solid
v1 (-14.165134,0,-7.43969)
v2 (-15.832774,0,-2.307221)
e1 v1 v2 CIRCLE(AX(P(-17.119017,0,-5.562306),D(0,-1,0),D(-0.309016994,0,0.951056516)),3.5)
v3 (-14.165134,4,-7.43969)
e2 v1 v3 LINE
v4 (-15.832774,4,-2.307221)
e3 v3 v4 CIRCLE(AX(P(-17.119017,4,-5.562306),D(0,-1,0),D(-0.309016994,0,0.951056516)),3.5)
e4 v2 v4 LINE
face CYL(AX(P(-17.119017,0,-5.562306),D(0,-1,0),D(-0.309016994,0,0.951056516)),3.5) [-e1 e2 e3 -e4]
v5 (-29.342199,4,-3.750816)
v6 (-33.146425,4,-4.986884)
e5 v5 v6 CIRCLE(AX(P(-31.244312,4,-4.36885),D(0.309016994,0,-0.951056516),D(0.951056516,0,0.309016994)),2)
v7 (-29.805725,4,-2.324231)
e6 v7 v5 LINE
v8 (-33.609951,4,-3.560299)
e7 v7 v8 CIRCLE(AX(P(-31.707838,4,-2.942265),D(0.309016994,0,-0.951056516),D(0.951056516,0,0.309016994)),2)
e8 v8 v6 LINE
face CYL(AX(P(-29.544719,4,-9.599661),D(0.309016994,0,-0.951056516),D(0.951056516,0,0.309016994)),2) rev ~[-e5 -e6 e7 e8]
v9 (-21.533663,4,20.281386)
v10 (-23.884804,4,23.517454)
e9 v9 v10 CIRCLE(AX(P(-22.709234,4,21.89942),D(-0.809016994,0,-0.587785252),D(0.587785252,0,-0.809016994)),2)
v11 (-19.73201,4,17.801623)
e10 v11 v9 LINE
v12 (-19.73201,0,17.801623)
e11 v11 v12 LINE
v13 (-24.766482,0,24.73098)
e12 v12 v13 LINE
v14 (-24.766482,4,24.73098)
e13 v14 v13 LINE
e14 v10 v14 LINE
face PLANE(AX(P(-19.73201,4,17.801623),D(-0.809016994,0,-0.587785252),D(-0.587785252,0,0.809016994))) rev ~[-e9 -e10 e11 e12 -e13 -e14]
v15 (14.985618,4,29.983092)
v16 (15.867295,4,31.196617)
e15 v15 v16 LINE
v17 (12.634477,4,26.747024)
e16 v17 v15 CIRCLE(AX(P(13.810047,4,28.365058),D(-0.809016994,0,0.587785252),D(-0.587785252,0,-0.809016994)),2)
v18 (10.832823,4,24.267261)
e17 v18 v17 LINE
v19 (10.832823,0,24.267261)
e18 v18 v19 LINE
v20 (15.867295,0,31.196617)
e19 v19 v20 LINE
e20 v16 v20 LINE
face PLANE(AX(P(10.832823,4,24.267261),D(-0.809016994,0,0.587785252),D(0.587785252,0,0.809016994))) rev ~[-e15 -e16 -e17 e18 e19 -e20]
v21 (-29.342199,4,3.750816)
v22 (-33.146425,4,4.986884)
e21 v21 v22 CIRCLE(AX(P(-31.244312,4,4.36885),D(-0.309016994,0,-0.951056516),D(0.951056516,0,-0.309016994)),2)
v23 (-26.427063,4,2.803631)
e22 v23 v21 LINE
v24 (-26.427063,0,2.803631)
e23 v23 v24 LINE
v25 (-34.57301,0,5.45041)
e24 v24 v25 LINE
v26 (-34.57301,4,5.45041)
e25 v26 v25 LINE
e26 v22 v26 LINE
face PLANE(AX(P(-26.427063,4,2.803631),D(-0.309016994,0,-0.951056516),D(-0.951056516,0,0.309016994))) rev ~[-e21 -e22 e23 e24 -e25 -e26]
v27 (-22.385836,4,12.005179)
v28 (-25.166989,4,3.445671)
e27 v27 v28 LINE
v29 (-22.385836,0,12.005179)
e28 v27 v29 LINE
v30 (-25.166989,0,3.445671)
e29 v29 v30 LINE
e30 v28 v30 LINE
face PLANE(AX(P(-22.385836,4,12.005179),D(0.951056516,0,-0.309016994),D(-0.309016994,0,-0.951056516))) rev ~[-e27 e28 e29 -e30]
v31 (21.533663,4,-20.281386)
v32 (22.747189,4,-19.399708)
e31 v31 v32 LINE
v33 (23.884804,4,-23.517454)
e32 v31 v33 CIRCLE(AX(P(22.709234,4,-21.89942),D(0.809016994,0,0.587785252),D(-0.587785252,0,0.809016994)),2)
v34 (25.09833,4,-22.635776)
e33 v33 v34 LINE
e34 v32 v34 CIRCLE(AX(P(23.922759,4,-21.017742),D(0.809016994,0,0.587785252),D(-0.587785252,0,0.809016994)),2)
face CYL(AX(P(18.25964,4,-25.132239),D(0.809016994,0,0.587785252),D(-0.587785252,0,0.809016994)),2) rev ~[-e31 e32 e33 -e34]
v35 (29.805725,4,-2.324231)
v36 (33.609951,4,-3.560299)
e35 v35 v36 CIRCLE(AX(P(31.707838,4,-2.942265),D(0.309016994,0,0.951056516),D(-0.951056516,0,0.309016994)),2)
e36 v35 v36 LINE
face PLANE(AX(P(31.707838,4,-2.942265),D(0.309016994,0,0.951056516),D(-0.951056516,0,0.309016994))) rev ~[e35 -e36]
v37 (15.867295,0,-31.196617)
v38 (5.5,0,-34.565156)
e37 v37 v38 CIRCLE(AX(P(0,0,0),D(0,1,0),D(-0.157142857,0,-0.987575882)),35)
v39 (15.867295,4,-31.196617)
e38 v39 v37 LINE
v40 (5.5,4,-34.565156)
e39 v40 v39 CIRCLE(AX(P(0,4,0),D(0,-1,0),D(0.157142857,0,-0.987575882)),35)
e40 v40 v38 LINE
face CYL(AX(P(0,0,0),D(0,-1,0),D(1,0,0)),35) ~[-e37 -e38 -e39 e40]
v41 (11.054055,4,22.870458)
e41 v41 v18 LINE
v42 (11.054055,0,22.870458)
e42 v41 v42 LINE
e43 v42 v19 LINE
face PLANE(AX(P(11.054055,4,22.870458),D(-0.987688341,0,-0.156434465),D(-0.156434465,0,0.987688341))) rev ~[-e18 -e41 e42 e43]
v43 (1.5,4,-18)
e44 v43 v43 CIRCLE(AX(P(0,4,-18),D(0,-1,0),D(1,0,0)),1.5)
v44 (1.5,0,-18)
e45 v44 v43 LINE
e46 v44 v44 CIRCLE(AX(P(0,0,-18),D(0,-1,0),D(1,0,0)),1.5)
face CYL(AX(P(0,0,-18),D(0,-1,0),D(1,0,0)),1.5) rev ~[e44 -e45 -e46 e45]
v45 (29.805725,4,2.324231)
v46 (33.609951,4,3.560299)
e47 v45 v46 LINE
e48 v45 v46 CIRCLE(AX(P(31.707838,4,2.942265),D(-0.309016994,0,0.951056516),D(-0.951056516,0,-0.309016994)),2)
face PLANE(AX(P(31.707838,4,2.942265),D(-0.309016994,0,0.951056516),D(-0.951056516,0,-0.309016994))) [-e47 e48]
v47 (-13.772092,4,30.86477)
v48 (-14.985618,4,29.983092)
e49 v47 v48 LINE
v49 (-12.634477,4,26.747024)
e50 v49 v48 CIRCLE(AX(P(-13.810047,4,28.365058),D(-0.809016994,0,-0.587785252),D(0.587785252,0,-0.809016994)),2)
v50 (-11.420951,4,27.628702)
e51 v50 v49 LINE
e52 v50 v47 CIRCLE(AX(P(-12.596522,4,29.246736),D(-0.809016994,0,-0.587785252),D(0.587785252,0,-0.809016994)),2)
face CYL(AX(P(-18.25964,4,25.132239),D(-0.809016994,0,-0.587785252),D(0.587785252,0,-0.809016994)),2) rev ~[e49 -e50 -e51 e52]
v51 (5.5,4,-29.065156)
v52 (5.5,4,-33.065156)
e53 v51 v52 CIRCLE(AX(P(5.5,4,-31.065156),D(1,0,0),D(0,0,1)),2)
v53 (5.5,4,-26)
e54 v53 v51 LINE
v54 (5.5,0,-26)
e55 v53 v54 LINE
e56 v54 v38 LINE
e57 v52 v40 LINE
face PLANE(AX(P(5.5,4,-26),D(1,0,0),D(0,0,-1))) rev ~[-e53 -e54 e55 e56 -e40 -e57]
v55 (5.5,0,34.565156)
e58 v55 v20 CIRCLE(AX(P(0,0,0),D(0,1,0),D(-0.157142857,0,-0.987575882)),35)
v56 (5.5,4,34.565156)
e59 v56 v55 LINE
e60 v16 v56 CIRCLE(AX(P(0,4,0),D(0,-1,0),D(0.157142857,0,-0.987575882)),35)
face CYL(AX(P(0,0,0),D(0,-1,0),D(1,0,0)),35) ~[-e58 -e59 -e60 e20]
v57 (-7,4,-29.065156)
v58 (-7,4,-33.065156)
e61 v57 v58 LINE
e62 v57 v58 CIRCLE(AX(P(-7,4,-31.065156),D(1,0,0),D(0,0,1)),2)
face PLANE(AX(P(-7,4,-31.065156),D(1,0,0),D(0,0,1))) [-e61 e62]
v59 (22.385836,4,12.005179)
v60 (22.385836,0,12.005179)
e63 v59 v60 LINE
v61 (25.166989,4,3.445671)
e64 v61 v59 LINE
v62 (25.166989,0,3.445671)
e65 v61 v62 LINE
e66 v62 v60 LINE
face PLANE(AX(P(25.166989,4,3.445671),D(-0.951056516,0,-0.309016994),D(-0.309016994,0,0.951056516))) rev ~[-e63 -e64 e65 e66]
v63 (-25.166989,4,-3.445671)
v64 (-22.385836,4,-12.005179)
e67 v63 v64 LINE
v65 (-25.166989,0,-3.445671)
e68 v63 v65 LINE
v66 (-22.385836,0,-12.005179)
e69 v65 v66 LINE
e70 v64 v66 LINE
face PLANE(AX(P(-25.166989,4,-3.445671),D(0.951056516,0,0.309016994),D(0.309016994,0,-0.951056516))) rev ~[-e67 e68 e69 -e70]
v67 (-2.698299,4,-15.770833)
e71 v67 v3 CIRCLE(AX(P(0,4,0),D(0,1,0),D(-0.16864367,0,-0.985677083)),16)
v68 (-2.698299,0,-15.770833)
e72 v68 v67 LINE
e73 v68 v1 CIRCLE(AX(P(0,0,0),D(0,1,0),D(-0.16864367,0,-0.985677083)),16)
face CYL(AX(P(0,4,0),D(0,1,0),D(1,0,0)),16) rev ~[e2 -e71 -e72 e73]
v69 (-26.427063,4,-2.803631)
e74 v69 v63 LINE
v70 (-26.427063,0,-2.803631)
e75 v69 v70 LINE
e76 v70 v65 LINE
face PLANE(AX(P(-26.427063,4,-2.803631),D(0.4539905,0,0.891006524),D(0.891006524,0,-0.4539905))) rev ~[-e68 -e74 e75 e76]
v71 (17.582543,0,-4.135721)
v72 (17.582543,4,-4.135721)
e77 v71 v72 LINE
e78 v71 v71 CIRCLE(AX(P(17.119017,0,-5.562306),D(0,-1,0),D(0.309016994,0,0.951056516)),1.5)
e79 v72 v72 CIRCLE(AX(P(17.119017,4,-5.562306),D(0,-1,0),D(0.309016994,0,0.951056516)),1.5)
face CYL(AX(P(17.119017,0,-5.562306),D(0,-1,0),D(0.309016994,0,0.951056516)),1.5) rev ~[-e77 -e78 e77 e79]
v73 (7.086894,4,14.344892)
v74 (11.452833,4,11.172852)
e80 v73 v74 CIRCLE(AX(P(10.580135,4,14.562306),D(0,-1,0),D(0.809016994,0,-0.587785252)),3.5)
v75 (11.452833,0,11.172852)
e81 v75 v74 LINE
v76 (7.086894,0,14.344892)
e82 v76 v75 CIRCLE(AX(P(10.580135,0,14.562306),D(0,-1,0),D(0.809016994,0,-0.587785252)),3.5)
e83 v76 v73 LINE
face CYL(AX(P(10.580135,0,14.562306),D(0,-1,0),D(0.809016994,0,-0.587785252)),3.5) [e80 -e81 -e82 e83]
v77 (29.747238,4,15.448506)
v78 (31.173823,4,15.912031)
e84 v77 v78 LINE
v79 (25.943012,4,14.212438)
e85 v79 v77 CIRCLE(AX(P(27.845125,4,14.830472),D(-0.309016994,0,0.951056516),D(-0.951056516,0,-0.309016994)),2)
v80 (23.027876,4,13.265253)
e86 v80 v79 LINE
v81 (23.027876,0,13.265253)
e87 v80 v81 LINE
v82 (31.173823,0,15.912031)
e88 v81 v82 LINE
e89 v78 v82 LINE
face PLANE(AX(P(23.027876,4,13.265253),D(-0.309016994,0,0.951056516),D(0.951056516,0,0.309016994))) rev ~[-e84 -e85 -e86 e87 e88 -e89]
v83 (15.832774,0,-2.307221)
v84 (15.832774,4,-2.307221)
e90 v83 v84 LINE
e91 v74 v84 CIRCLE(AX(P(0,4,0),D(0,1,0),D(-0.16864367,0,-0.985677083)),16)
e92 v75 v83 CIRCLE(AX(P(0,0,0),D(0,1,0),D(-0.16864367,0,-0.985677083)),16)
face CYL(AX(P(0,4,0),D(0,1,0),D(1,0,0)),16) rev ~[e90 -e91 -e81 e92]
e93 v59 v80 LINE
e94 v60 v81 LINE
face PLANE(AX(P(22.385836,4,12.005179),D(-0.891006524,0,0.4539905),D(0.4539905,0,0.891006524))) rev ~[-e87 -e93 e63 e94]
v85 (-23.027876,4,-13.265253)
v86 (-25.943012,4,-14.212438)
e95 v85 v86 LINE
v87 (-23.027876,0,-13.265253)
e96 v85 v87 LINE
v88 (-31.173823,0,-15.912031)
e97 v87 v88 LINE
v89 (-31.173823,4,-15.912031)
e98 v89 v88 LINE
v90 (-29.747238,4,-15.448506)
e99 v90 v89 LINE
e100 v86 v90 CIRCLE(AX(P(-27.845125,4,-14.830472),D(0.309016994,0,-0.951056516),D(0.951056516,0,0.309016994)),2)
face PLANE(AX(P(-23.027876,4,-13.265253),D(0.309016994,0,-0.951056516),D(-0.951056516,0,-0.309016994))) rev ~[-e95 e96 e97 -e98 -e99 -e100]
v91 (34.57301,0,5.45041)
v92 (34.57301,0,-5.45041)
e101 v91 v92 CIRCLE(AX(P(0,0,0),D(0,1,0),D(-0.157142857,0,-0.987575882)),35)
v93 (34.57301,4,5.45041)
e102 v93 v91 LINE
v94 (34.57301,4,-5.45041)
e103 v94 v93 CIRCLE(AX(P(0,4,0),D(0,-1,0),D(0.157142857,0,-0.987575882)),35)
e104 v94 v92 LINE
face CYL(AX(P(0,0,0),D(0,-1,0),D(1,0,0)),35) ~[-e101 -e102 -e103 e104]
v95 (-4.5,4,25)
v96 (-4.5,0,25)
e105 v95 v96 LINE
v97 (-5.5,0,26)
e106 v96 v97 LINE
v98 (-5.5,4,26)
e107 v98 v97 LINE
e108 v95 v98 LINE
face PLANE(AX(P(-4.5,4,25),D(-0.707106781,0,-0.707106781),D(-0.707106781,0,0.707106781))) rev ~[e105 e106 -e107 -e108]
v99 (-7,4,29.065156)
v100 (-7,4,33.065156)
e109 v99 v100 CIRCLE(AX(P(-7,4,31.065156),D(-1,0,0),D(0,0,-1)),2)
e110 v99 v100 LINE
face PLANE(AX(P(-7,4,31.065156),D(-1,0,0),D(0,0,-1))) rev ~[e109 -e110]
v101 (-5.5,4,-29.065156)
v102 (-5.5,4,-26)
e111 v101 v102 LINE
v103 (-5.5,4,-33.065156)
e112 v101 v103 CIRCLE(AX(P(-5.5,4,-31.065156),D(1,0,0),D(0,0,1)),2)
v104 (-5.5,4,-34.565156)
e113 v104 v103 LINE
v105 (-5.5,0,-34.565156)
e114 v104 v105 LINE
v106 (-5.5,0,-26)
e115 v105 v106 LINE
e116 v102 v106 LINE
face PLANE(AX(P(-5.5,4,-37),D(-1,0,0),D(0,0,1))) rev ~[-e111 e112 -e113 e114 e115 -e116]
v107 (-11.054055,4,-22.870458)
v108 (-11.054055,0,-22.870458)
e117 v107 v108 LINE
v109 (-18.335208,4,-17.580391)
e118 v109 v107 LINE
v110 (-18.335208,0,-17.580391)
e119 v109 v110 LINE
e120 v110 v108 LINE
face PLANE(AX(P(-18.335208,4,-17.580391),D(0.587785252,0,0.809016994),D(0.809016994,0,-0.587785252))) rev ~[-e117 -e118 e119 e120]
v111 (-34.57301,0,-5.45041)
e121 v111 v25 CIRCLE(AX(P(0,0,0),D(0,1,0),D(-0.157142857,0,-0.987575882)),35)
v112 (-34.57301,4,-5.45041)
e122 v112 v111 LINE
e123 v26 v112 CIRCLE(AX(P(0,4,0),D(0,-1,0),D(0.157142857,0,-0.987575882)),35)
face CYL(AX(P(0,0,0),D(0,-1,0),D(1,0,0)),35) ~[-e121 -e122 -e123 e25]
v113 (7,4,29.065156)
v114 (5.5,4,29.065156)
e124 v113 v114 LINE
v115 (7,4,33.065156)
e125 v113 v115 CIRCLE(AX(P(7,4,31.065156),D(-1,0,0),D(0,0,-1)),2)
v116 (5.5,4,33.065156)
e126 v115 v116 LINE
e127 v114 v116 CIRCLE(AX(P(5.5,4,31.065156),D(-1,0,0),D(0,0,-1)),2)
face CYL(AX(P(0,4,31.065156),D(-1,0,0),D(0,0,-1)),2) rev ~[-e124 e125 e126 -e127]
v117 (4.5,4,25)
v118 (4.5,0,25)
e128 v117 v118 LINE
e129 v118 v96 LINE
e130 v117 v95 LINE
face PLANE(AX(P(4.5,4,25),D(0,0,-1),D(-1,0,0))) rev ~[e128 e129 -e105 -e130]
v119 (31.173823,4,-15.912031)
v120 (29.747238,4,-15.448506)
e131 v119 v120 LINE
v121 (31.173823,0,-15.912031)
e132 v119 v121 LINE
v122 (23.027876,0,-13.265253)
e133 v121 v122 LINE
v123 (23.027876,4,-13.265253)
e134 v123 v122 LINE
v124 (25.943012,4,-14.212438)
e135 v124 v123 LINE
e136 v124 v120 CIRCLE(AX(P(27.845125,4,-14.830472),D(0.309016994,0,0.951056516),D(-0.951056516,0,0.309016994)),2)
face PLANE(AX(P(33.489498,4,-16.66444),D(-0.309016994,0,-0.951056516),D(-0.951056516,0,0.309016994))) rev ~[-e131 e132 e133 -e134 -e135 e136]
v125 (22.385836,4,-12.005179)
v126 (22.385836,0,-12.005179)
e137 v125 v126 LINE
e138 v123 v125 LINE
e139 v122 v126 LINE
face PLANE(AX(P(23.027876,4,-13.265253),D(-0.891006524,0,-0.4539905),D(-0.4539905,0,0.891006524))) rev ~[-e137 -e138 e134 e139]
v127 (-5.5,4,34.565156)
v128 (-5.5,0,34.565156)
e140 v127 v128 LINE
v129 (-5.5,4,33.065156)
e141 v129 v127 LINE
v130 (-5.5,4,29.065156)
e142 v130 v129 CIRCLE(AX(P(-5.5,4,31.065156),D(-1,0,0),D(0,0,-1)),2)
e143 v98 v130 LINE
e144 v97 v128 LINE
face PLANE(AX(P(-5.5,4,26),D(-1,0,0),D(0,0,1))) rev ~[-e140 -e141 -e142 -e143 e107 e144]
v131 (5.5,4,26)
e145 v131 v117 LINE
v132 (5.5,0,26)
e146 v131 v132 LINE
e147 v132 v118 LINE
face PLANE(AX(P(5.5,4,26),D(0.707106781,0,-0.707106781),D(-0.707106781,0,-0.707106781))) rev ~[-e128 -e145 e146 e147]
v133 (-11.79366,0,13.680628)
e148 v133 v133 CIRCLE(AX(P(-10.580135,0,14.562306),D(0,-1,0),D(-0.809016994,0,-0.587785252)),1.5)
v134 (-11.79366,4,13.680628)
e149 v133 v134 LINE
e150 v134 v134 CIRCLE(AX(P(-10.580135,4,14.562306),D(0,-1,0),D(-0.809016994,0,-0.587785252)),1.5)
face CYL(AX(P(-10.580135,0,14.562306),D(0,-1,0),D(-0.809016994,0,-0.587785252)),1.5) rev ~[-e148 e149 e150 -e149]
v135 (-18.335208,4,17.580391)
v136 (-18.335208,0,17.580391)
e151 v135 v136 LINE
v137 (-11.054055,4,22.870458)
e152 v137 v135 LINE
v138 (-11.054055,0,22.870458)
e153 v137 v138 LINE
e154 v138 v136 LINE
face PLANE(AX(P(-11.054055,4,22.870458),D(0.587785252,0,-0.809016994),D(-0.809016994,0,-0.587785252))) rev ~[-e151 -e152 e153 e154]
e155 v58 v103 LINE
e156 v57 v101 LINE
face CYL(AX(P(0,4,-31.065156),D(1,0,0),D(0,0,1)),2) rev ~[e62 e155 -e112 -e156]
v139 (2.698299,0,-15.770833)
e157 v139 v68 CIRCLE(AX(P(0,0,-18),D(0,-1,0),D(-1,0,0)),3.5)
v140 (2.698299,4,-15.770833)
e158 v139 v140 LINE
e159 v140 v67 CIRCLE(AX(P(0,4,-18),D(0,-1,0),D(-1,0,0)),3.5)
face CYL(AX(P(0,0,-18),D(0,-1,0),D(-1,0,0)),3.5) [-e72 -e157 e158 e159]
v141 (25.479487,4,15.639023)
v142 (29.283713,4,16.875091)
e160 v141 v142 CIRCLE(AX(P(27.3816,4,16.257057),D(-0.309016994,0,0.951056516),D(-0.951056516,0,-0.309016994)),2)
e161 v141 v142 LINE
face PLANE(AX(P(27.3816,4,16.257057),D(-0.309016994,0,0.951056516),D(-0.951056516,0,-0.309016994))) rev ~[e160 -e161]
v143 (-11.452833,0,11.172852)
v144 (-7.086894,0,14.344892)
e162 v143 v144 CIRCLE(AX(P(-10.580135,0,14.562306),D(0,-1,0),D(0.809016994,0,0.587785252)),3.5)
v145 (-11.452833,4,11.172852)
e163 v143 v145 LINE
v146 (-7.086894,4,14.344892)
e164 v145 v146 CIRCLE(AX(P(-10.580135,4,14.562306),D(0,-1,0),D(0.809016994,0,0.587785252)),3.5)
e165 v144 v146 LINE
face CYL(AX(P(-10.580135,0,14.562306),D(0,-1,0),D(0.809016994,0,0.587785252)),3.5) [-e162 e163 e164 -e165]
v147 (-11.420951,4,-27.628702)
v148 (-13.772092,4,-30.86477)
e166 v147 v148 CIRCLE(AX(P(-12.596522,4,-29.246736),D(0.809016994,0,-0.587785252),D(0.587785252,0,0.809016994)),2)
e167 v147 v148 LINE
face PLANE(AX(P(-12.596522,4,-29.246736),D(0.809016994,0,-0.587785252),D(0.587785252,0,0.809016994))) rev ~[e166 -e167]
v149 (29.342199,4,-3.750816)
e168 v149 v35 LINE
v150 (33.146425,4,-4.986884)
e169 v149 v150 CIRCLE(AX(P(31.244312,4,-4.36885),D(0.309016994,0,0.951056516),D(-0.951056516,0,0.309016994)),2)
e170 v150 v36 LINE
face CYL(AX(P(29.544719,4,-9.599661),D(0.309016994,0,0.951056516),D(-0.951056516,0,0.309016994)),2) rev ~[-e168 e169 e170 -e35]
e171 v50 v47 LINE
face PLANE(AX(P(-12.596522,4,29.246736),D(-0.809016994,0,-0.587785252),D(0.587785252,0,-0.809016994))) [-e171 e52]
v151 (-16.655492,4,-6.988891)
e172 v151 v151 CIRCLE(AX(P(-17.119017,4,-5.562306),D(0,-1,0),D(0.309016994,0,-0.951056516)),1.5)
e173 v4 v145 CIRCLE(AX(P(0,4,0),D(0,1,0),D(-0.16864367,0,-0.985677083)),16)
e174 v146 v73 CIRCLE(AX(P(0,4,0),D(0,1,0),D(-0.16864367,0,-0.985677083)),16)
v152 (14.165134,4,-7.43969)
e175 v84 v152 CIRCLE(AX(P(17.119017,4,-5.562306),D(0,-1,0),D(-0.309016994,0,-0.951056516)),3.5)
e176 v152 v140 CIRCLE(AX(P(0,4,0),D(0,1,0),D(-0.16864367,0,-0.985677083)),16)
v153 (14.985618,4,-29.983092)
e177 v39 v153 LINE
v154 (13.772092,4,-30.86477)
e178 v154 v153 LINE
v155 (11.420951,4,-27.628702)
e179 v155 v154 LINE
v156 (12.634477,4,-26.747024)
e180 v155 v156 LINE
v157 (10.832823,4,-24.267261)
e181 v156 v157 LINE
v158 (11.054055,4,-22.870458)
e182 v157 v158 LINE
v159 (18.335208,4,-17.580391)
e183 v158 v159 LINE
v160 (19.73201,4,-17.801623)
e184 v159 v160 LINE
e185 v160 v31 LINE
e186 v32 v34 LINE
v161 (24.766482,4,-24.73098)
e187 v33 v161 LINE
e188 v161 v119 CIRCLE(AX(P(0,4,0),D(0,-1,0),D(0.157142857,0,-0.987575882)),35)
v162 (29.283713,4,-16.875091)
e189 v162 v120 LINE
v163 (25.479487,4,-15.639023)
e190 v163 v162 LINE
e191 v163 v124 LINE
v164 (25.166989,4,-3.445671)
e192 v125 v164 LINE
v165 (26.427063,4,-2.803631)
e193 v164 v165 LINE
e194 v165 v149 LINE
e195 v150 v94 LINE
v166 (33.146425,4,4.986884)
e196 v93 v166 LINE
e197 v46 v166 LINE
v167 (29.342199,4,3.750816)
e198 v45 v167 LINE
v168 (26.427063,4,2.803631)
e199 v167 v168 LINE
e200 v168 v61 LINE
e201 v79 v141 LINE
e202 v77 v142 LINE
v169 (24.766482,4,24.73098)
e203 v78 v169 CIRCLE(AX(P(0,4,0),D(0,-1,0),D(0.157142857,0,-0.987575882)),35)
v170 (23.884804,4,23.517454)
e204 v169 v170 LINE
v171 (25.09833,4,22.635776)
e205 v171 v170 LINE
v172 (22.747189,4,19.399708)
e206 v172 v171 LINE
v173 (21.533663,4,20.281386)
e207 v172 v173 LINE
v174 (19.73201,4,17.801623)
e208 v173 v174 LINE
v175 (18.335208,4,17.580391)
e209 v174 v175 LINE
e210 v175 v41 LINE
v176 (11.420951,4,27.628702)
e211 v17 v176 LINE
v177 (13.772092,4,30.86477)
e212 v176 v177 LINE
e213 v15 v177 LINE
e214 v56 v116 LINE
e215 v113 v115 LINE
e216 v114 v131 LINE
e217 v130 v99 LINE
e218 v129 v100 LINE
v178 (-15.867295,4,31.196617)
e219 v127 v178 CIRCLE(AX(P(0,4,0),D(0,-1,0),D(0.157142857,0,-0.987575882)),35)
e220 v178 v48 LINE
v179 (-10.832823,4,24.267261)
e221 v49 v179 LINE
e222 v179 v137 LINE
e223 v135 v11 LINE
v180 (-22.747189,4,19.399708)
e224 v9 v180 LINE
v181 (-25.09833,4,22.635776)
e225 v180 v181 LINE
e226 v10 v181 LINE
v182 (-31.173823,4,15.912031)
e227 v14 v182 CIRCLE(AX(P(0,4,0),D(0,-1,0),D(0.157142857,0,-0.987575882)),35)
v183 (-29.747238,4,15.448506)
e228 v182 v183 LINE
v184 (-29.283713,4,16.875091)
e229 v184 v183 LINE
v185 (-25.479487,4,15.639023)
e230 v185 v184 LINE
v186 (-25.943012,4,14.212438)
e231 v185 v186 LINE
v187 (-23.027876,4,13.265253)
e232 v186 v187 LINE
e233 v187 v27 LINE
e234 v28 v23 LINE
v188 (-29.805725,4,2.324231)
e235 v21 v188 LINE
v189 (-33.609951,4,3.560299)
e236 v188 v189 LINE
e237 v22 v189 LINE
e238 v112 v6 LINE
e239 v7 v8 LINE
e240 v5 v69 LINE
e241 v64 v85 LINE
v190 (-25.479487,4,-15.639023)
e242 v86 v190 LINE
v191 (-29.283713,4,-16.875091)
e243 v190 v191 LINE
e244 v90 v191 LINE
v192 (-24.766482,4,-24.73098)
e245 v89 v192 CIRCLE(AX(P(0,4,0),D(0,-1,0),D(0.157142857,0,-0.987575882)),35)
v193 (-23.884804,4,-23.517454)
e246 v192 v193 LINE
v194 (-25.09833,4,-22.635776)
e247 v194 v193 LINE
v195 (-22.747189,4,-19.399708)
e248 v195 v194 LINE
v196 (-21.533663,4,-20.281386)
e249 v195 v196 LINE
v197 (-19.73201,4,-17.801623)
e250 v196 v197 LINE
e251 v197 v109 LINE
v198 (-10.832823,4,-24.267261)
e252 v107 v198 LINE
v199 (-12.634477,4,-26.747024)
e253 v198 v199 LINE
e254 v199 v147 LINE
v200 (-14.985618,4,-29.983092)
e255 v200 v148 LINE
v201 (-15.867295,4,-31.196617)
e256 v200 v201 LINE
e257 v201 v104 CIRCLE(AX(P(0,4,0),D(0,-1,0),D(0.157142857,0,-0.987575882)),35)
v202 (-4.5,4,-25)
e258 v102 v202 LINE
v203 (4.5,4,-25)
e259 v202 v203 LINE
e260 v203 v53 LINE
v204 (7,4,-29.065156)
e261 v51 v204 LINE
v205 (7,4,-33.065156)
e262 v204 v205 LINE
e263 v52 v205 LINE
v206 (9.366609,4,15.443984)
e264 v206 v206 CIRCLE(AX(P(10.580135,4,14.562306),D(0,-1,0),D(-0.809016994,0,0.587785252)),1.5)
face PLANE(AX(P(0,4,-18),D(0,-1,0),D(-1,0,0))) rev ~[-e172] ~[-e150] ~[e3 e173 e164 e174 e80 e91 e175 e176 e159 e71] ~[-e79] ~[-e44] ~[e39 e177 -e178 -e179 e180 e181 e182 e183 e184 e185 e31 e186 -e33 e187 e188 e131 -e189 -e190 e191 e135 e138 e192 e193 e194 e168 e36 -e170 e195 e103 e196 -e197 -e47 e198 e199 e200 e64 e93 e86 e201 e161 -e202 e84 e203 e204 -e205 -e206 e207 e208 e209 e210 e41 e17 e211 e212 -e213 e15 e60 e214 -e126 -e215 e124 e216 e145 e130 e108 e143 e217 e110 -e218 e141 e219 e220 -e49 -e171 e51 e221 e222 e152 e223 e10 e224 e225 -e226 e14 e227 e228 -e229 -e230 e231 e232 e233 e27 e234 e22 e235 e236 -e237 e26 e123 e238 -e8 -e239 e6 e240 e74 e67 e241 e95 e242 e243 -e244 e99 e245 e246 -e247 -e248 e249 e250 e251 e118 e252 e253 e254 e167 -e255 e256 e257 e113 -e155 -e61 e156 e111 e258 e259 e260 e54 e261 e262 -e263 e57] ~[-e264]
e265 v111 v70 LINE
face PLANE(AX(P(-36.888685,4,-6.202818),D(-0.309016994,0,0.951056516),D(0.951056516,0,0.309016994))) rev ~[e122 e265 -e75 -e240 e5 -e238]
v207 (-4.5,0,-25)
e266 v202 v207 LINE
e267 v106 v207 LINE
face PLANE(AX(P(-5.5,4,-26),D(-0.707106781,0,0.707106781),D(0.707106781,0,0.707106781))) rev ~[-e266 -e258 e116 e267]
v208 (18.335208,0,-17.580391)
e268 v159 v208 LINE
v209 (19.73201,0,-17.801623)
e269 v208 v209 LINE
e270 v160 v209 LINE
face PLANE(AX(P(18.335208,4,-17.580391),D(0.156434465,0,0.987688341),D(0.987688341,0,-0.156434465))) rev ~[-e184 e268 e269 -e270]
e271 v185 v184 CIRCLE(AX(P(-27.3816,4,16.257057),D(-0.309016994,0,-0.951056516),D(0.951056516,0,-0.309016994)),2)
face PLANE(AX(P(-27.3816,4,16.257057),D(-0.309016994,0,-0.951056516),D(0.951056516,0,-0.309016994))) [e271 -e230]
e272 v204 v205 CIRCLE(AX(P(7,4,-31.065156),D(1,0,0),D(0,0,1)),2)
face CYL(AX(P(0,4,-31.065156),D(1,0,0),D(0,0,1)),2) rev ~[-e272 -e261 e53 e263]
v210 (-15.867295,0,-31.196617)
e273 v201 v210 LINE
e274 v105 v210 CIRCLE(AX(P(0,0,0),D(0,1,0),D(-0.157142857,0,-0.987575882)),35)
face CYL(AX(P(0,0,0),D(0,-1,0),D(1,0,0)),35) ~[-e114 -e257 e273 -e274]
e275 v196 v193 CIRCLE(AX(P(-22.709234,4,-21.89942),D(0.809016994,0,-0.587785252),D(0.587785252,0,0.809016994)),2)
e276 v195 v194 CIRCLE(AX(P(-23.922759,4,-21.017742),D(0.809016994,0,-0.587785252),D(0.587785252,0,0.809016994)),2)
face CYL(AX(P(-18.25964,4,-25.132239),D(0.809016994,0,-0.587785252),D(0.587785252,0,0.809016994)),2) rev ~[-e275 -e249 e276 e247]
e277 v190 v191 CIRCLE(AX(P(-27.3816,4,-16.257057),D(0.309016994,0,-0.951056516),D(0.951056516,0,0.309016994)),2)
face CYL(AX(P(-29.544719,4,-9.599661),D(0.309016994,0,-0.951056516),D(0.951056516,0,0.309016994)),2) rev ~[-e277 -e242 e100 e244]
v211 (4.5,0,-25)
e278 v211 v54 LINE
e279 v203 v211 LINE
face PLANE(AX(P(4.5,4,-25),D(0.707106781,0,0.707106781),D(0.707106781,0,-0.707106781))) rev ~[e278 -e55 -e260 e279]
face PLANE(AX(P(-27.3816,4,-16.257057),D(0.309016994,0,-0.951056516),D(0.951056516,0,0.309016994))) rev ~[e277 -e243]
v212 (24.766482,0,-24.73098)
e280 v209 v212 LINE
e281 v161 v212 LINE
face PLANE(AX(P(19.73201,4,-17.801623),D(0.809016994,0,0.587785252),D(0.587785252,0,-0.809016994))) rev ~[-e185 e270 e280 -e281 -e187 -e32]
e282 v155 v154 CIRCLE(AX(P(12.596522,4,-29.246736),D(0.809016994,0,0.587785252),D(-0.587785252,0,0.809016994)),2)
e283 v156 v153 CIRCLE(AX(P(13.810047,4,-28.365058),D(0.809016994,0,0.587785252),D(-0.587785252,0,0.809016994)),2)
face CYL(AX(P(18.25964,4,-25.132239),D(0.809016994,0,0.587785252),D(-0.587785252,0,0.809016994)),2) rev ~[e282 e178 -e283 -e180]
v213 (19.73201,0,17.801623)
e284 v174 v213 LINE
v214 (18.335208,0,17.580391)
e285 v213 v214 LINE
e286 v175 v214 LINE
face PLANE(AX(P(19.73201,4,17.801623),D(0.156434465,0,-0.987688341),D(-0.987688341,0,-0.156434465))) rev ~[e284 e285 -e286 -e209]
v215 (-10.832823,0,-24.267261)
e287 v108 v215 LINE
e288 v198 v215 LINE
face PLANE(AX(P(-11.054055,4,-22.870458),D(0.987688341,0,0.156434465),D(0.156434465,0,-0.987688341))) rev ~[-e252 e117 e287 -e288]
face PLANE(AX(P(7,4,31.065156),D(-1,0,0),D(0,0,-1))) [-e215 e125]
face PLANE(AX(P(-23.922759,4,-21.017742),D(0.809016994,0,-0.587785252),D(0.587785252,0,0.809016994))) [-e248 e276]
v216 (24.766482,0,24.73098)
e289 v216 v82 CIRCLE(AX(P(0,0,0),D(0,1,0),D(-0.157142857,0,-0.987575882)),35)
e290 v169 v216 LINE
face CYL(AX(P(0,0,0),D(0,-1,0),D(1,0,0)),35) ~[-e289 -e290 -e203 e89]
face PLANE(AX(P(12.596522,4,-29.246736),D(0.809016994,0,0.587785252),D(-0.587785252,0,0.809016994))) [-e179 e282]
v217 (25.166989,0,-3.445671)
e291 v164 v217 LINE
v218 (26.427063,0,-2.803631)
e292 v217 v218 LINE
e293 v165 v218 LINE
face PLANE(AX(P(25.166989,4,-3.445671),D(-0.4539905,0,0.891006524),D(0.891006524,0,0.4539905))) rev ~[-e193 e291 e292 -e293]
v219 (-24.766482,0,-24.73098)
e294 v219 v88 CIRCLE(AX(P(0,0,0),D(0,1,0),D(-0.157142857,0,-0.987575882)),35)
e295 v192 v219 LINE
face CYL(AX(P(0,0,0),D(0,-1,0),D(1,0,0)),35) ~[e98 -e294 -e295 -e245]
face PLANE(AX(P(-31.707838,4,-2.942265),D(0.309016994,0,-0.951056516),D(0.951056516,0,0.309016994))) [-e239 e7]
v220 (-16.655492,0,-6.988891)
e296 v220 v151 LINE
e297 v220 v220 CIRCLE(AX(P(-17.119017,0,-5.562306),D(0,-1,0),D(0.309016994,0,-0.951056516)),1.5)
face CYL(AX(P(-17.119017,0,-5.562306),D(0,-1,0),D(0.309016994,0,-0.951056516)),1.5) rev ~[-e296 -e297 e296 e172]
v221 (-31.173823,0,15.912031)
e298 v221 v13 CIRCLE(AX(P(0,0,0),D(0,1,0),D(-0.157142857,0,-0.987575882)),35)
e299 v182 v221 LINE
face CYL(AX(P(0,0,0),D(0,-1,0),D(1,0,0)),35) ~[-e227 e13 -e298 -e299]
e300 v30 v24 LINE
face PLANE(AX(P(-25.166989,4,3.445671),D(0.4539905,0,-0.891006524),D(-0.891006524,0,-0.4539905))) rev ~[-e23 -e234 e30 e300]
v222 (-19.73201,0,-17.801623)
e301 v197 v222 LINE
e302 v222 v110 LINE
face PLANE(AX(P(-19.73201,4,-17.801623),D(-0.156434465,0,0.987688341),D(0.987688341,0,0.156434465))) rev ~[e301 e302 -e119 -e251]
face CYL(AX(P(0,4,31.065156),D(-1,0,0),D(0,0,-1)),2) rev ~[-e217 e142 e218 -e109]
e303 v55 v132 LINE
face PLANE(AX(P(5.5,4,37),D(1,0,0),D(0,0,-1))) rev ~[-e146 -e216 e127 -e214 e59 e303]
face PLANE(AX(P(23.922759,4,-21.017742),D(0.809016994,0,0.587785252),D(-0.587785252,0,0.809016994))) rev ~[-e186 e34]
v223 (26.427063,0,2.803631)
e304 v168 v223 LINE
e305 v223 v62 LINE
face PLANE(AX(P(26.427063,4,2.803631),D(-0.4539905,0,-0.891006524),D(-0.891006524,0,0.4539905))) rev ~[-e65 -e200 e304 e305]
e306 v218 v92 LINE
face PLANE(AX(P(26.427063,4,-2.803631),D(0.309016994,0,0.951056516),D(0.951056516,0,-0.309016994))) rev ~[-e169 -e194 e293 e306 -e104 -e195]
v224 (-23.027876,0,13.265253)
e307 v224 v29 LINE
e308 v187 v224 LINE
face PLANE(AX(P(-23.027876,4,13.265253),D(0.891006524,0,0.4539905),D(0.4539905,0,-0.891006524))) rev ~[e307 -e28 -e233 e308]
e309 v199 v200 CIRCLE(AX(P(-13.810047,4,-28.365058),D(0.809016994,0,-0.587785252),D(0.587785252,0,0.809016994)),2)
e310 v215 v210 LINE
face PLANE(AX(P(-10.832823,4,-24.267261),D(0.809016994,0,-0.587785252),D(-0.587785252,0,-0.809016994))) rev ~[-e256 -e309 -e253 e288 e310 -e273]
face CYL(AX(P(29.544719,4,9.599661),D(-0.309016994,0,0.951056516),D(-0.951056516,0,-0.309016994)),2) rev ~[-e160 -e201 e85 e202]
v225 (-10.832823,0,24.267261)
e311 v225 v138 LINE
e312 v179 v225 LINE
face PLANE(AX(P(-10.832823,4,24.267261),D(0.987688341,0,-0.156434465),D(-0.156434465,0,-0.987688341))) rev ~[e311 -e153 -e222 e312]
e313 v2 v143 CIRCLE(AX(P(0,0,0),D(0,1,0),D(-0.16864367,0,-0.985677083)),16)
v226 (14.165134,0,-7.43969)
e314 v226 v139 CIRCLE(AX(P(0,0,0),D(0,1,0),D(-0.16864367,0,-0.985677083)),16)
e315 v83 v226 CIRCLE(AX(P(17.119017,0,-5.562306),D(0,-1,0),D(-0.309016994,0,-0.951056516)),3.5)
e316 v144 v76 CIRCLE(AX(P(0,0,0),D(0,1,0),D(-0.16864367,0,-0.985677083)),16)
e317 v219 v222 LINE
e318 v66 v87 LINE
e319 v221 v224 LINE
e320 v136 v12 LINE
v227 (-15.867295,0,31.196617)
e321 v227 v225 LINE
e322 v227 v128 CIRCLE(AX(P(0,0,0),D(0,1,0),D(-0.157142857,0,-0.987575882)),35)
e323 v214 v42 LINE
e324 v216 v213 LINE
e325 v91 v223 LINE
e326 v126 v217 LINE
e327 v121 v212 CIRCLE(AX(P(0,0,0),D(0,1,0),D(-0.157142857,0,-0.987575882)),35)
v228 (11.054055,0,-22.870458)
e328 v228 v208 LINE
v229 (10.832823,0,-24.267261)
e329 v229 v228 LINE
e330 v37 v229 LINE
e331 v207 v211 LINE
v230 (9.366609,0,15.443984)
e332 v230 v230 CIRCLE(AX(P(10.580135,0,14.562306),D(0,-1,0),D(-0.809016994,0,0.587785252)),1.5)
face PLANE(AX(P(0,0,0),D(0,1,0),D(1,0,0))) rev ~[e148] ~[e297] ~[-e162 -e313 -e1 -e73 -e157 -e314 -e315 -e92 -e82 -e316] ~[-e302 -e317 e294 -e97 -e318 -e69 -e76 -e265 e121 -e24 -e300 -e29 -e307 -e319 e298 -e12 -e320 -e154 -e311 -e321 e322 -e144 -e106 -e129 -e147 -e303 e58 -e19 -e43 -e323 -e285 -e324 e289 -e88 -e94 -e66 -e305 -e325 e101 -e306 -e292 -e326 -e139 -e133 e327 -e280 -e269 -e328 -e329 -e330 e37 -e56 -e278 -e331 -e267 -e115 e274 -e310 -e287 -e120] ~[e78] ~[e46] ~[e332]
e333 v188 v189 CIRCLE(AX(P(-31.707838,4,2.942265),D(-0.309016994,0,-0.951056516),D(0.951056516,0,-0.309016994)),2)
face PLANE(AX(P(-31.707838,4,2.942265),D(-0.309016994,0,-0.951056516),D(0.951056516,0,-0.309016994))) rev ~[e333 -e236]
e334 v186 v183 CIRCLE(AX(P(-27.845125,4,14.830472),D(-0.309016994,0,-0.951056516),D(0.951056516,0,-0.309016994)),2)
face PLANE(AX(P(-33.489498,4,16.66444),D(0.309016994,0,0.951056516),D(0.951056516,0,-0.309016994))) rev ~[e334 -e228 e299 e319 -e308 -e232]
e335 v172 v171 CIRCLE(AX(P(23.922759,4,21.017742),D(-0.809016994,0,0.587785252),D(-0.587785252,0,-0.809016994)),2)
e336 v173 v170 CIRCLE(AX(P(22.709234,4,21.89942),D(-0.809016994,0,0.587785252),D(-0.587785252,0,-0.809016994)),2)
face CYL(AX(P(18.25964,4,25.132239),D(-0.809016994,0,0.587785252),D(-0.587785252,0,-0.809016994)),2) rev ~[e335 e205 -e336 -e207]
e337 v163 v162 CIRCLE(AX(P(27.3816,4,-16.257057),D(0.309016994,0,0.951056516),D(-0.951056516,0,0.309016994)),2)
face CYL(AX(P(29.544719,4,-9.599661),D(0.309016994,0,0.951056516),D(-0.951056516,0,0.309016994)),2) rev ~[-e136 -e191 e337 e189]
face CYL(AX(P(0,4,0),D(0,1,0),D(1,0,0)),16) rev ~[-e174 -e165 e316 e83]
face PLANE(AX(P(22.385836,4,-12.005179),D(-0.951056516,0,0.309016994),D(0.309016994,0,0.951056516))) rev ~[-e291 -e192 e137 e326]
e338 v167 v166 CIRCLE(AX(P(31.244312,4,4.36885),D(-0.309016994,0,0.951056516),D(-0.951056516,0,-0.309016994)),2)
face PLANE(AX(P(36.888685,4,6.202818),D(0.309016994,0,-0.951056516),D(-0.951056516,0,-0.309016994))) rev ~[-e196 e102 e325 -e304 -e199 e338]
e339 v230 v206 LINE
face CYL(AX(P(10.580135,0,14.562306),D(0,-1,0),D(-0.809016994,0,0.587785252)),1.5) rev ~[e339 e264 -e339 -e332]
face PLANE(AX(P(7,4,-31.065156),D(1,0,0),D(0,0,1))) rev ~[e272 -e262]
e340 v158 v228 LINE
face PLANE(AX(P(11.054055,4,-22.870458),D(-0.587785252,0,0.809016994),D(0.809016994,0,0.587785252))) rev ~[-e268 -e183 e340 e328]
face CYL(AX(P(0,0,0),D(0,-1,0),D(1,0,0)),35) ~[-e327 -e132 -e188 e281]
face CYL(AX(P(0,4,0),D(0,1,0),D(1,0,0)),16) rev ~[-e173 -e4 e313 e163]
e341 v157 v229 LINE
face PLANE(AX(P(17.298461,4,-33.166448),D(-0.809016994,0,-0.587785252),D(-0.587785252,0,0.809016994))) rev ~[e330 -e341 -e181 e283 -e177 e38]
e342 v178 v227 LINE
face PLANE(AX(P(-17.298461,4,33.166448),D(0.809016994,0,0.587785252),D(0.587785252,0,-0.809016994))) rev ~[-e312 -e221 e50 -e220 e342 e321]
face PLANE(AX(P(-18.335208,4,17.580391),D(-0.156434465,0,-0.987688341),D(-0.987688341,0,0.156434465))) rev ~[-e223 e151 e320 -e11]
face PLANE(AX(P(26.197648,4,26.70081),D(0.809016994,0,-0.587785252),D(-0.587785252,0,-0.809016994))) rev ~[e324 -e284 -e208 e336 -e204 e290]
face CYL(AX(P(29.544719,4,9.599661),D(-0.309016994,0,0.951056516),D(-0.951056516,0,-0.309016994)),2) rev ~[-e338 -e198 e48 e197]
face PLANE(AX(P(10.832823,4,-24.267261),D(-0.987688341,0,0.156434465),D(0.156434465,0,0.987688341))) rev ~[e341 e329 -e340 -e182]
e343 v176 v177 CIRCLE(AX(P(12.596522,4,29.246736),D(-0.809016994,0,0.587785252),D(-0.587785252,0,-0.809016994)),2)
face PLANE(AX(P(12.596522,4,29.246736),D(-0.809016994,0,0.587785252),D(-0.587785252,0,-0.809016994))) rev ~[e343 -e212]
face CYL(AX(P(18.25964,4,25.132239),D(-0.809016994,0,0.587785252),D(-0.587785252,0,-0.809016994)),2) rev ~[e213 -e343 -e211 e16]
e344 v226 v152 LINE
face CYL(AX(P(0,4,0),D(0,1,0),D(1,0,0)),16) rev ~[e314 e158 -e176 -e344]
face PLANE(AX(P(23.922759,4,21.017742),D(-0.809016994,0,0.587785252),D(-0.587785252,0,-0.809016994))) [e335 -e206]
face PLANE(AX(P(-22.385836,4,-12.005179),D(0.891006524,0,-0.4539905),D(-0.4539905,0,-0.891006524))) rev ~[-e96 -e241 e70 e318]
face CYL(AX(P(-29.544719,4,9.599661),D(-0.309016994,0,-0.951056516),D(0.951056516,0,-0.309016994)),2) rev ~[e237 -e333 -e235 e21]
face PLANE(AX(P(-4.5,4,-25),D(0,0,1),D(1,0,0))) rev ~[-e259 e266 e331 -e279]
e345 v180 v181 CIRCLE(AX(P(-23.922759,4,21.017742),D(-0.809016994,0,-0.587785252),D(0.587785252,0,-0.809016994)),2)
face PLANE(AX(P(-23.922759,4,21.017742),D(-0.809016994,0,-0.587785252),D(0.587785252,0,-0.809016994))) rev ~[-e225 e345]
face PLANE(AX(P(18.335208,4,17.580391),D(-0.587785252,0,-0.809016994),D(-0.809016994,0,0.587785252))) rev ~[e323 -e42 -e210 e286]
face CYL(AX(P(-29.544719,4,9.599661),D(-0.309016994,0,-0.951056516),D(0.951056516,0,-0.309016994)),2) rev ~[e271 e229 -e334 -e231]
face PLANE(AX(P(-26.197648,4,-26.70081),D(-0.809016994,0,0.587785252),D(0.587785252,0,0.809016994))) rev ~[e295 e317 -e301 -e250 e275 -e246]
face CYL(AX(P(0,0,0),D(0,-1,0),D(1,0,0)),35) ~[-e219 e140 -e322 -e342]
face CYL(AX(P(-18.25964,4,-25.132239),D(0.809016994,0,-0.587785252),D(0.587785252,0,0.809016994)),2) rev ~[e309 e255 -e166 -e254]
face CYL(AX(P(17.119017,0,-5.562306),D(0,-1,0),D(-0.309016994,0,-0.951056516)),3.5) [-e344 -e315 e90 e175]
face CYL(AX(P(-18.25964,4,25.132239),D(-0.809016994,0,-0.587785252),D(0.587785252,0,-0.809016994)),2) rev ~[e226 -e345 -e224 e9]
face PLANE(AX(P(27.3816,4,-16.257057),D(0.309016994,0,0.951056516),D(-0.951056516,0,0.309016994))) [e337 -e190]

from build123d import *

# Parameters (mm, degrees)
SKIZZE1_R                       = 35
AUFSATZ_LINEAR_AUSTRAGEN1_DEPTH = 4
SCHNITT_LINEAR_AUSTRAGEN1_DEPTH = 5
SKIZZE4_W                       = 14
SKIZZE4_H                       = 2
KREISMUSTER1_COUNT              = 10
SKIZZE5_R                       = 16
SCHNITT_LINEAR_AUSTRAGEN2_DEPTH = 5
SKIZZE7_R                       = 3.5
AUFSATZ_LINEAR_AUSTRAGEN2_DEPTH = 4
SKIZZE6_R                       = 1.5
SCHNITT_LINEAR_AUSTRAGEN3_DEPTH = 5
KREISMUSTER2_COUNT              = 5


with BuildPart() as part:
    # Skizze1 → Aufsatz-Linear austragen1 (new body)
    with BuildSketch(Plane(origin=(0, 0, 0), x_dir=(1, 0, 0), z_dir=(0, 1, 0))):
        Circle(SKIZZE1_R)
    extrude(amount=AUFSATZ_LINEAR_AUSTRAGEN1_DEPTH)

    # Skizze2 → Schnitt-Linear austragen1 (cut, through all)
    with BuildSketch(Plane(origin=(0, 4, 0), x_dir=(1, 0, 0), z_dir=(0, 1, 0))):
        Polygon((-5.5, 37), (-5.5, 26), (-4.5, 25), (0, 25), (4.5, 25), (5.5, 26), (5.5, 37), align=None)
    schnitt_linear_austragen1 = extrude(amount=-SCHNITT_LINEAR_AUSTRAGEN1_DEPTH, mode=Mode.SUBTRACT)

    # Skizze4 → Schnitt-Rotation1 (revolve, cut)
    with BuildSketch(Plane(origin=(0, 4, 0), x_dir=(1, 0, 0), z_dir=(0, 1, 0))):
        with Locations((0, 30.065155865)):
            Rectangle(SKIZZE4_W, SKIZZE4_H)
    schnitt_rotation1 = revolve(axis=Axis((-7, 4, -31.065155865), (1, 0, 0)), mode=Mode.SUBTRACT)

    # Kreismuster1: Schnitt-Linear austragen1, Schnitt-Rotation1 ×10 about axis
    kreismuster1_axis = Axis((0, 0, 0), (0, 1, 0))
    for i in range(1, KREISMUSTER1_COUNT):
        add(schnitt_linear_austragen1.rotate(kreismuster1_axis, i * 360 / KREISMUSTER1_COUNT), mode=Mode.SUBTRACT)
        add(schnitt_rotation1.rotate(kreismuster1_axis, i * 360 / KREISMUSTER1_COUNT), mode=Mode.SUBTRACT)

    # Skizze5 → Schnitt-Linear austragen2 (cut, through all)
    with BuildSketch(Plane(origin=(0, 4, 0), x_dir=(1, 0, 0), z_dir=(0, 1, 0))):
        Circle(SKIZZE5_R)
    extrude(amount=-SCHNITT_LINEAR_AUSTRAGEN2_DEPTH, mode=Mode.SUBTRACT)

    # Skizze7 → Aufsatz-Linear austragen2 (add)
    with BuildSketch(Plane(origin=(0, 0, 0), x_dir=(-1, 0, 0), z_dir=(0, -1, 0))):
        with Locations((0, 18)):
            Circle(SKIZZE7_R)
    aufsatz_linear_austragen2 = extrude(amount=-AUFSATZ_LINEAR_AUSTRAGEN2_DEPTH)

    # Skizze6 → Schnitt-Linear austragen3 (cut, through all)
    with BuildSketch(Plane.XZ):
        with Locations((0, -18)):
            Circle(SKIZZE6_R)
    schnitt_linear_austragen3 = extrude(amount=-SCHNITT_LINEAR_AUSTRAGEN3_DEPTH, mode=Mode.SUBTRACT)

    # Kreismuster2: Aufsatz-Linear austragen2, Schnitt-Linear austragen3 ×5 about axis
    kreismuster2_axis = Axis((0, 0, 0), (0, 1, 0))
    for i in range(1, KREISMUSTER2_COUNT):
        add(aufsatz_linear_austragen2.rotate(kreismuster2_axis, i * 360 / KREISMUSTER2_COUNT))
        add(schnitt_linear_austragen3.rotate(kreismuster2_axis, i * 360 / KREISMUSTER2_COUNT), mode=Mode.SUBTRACT)


solid = part.part
